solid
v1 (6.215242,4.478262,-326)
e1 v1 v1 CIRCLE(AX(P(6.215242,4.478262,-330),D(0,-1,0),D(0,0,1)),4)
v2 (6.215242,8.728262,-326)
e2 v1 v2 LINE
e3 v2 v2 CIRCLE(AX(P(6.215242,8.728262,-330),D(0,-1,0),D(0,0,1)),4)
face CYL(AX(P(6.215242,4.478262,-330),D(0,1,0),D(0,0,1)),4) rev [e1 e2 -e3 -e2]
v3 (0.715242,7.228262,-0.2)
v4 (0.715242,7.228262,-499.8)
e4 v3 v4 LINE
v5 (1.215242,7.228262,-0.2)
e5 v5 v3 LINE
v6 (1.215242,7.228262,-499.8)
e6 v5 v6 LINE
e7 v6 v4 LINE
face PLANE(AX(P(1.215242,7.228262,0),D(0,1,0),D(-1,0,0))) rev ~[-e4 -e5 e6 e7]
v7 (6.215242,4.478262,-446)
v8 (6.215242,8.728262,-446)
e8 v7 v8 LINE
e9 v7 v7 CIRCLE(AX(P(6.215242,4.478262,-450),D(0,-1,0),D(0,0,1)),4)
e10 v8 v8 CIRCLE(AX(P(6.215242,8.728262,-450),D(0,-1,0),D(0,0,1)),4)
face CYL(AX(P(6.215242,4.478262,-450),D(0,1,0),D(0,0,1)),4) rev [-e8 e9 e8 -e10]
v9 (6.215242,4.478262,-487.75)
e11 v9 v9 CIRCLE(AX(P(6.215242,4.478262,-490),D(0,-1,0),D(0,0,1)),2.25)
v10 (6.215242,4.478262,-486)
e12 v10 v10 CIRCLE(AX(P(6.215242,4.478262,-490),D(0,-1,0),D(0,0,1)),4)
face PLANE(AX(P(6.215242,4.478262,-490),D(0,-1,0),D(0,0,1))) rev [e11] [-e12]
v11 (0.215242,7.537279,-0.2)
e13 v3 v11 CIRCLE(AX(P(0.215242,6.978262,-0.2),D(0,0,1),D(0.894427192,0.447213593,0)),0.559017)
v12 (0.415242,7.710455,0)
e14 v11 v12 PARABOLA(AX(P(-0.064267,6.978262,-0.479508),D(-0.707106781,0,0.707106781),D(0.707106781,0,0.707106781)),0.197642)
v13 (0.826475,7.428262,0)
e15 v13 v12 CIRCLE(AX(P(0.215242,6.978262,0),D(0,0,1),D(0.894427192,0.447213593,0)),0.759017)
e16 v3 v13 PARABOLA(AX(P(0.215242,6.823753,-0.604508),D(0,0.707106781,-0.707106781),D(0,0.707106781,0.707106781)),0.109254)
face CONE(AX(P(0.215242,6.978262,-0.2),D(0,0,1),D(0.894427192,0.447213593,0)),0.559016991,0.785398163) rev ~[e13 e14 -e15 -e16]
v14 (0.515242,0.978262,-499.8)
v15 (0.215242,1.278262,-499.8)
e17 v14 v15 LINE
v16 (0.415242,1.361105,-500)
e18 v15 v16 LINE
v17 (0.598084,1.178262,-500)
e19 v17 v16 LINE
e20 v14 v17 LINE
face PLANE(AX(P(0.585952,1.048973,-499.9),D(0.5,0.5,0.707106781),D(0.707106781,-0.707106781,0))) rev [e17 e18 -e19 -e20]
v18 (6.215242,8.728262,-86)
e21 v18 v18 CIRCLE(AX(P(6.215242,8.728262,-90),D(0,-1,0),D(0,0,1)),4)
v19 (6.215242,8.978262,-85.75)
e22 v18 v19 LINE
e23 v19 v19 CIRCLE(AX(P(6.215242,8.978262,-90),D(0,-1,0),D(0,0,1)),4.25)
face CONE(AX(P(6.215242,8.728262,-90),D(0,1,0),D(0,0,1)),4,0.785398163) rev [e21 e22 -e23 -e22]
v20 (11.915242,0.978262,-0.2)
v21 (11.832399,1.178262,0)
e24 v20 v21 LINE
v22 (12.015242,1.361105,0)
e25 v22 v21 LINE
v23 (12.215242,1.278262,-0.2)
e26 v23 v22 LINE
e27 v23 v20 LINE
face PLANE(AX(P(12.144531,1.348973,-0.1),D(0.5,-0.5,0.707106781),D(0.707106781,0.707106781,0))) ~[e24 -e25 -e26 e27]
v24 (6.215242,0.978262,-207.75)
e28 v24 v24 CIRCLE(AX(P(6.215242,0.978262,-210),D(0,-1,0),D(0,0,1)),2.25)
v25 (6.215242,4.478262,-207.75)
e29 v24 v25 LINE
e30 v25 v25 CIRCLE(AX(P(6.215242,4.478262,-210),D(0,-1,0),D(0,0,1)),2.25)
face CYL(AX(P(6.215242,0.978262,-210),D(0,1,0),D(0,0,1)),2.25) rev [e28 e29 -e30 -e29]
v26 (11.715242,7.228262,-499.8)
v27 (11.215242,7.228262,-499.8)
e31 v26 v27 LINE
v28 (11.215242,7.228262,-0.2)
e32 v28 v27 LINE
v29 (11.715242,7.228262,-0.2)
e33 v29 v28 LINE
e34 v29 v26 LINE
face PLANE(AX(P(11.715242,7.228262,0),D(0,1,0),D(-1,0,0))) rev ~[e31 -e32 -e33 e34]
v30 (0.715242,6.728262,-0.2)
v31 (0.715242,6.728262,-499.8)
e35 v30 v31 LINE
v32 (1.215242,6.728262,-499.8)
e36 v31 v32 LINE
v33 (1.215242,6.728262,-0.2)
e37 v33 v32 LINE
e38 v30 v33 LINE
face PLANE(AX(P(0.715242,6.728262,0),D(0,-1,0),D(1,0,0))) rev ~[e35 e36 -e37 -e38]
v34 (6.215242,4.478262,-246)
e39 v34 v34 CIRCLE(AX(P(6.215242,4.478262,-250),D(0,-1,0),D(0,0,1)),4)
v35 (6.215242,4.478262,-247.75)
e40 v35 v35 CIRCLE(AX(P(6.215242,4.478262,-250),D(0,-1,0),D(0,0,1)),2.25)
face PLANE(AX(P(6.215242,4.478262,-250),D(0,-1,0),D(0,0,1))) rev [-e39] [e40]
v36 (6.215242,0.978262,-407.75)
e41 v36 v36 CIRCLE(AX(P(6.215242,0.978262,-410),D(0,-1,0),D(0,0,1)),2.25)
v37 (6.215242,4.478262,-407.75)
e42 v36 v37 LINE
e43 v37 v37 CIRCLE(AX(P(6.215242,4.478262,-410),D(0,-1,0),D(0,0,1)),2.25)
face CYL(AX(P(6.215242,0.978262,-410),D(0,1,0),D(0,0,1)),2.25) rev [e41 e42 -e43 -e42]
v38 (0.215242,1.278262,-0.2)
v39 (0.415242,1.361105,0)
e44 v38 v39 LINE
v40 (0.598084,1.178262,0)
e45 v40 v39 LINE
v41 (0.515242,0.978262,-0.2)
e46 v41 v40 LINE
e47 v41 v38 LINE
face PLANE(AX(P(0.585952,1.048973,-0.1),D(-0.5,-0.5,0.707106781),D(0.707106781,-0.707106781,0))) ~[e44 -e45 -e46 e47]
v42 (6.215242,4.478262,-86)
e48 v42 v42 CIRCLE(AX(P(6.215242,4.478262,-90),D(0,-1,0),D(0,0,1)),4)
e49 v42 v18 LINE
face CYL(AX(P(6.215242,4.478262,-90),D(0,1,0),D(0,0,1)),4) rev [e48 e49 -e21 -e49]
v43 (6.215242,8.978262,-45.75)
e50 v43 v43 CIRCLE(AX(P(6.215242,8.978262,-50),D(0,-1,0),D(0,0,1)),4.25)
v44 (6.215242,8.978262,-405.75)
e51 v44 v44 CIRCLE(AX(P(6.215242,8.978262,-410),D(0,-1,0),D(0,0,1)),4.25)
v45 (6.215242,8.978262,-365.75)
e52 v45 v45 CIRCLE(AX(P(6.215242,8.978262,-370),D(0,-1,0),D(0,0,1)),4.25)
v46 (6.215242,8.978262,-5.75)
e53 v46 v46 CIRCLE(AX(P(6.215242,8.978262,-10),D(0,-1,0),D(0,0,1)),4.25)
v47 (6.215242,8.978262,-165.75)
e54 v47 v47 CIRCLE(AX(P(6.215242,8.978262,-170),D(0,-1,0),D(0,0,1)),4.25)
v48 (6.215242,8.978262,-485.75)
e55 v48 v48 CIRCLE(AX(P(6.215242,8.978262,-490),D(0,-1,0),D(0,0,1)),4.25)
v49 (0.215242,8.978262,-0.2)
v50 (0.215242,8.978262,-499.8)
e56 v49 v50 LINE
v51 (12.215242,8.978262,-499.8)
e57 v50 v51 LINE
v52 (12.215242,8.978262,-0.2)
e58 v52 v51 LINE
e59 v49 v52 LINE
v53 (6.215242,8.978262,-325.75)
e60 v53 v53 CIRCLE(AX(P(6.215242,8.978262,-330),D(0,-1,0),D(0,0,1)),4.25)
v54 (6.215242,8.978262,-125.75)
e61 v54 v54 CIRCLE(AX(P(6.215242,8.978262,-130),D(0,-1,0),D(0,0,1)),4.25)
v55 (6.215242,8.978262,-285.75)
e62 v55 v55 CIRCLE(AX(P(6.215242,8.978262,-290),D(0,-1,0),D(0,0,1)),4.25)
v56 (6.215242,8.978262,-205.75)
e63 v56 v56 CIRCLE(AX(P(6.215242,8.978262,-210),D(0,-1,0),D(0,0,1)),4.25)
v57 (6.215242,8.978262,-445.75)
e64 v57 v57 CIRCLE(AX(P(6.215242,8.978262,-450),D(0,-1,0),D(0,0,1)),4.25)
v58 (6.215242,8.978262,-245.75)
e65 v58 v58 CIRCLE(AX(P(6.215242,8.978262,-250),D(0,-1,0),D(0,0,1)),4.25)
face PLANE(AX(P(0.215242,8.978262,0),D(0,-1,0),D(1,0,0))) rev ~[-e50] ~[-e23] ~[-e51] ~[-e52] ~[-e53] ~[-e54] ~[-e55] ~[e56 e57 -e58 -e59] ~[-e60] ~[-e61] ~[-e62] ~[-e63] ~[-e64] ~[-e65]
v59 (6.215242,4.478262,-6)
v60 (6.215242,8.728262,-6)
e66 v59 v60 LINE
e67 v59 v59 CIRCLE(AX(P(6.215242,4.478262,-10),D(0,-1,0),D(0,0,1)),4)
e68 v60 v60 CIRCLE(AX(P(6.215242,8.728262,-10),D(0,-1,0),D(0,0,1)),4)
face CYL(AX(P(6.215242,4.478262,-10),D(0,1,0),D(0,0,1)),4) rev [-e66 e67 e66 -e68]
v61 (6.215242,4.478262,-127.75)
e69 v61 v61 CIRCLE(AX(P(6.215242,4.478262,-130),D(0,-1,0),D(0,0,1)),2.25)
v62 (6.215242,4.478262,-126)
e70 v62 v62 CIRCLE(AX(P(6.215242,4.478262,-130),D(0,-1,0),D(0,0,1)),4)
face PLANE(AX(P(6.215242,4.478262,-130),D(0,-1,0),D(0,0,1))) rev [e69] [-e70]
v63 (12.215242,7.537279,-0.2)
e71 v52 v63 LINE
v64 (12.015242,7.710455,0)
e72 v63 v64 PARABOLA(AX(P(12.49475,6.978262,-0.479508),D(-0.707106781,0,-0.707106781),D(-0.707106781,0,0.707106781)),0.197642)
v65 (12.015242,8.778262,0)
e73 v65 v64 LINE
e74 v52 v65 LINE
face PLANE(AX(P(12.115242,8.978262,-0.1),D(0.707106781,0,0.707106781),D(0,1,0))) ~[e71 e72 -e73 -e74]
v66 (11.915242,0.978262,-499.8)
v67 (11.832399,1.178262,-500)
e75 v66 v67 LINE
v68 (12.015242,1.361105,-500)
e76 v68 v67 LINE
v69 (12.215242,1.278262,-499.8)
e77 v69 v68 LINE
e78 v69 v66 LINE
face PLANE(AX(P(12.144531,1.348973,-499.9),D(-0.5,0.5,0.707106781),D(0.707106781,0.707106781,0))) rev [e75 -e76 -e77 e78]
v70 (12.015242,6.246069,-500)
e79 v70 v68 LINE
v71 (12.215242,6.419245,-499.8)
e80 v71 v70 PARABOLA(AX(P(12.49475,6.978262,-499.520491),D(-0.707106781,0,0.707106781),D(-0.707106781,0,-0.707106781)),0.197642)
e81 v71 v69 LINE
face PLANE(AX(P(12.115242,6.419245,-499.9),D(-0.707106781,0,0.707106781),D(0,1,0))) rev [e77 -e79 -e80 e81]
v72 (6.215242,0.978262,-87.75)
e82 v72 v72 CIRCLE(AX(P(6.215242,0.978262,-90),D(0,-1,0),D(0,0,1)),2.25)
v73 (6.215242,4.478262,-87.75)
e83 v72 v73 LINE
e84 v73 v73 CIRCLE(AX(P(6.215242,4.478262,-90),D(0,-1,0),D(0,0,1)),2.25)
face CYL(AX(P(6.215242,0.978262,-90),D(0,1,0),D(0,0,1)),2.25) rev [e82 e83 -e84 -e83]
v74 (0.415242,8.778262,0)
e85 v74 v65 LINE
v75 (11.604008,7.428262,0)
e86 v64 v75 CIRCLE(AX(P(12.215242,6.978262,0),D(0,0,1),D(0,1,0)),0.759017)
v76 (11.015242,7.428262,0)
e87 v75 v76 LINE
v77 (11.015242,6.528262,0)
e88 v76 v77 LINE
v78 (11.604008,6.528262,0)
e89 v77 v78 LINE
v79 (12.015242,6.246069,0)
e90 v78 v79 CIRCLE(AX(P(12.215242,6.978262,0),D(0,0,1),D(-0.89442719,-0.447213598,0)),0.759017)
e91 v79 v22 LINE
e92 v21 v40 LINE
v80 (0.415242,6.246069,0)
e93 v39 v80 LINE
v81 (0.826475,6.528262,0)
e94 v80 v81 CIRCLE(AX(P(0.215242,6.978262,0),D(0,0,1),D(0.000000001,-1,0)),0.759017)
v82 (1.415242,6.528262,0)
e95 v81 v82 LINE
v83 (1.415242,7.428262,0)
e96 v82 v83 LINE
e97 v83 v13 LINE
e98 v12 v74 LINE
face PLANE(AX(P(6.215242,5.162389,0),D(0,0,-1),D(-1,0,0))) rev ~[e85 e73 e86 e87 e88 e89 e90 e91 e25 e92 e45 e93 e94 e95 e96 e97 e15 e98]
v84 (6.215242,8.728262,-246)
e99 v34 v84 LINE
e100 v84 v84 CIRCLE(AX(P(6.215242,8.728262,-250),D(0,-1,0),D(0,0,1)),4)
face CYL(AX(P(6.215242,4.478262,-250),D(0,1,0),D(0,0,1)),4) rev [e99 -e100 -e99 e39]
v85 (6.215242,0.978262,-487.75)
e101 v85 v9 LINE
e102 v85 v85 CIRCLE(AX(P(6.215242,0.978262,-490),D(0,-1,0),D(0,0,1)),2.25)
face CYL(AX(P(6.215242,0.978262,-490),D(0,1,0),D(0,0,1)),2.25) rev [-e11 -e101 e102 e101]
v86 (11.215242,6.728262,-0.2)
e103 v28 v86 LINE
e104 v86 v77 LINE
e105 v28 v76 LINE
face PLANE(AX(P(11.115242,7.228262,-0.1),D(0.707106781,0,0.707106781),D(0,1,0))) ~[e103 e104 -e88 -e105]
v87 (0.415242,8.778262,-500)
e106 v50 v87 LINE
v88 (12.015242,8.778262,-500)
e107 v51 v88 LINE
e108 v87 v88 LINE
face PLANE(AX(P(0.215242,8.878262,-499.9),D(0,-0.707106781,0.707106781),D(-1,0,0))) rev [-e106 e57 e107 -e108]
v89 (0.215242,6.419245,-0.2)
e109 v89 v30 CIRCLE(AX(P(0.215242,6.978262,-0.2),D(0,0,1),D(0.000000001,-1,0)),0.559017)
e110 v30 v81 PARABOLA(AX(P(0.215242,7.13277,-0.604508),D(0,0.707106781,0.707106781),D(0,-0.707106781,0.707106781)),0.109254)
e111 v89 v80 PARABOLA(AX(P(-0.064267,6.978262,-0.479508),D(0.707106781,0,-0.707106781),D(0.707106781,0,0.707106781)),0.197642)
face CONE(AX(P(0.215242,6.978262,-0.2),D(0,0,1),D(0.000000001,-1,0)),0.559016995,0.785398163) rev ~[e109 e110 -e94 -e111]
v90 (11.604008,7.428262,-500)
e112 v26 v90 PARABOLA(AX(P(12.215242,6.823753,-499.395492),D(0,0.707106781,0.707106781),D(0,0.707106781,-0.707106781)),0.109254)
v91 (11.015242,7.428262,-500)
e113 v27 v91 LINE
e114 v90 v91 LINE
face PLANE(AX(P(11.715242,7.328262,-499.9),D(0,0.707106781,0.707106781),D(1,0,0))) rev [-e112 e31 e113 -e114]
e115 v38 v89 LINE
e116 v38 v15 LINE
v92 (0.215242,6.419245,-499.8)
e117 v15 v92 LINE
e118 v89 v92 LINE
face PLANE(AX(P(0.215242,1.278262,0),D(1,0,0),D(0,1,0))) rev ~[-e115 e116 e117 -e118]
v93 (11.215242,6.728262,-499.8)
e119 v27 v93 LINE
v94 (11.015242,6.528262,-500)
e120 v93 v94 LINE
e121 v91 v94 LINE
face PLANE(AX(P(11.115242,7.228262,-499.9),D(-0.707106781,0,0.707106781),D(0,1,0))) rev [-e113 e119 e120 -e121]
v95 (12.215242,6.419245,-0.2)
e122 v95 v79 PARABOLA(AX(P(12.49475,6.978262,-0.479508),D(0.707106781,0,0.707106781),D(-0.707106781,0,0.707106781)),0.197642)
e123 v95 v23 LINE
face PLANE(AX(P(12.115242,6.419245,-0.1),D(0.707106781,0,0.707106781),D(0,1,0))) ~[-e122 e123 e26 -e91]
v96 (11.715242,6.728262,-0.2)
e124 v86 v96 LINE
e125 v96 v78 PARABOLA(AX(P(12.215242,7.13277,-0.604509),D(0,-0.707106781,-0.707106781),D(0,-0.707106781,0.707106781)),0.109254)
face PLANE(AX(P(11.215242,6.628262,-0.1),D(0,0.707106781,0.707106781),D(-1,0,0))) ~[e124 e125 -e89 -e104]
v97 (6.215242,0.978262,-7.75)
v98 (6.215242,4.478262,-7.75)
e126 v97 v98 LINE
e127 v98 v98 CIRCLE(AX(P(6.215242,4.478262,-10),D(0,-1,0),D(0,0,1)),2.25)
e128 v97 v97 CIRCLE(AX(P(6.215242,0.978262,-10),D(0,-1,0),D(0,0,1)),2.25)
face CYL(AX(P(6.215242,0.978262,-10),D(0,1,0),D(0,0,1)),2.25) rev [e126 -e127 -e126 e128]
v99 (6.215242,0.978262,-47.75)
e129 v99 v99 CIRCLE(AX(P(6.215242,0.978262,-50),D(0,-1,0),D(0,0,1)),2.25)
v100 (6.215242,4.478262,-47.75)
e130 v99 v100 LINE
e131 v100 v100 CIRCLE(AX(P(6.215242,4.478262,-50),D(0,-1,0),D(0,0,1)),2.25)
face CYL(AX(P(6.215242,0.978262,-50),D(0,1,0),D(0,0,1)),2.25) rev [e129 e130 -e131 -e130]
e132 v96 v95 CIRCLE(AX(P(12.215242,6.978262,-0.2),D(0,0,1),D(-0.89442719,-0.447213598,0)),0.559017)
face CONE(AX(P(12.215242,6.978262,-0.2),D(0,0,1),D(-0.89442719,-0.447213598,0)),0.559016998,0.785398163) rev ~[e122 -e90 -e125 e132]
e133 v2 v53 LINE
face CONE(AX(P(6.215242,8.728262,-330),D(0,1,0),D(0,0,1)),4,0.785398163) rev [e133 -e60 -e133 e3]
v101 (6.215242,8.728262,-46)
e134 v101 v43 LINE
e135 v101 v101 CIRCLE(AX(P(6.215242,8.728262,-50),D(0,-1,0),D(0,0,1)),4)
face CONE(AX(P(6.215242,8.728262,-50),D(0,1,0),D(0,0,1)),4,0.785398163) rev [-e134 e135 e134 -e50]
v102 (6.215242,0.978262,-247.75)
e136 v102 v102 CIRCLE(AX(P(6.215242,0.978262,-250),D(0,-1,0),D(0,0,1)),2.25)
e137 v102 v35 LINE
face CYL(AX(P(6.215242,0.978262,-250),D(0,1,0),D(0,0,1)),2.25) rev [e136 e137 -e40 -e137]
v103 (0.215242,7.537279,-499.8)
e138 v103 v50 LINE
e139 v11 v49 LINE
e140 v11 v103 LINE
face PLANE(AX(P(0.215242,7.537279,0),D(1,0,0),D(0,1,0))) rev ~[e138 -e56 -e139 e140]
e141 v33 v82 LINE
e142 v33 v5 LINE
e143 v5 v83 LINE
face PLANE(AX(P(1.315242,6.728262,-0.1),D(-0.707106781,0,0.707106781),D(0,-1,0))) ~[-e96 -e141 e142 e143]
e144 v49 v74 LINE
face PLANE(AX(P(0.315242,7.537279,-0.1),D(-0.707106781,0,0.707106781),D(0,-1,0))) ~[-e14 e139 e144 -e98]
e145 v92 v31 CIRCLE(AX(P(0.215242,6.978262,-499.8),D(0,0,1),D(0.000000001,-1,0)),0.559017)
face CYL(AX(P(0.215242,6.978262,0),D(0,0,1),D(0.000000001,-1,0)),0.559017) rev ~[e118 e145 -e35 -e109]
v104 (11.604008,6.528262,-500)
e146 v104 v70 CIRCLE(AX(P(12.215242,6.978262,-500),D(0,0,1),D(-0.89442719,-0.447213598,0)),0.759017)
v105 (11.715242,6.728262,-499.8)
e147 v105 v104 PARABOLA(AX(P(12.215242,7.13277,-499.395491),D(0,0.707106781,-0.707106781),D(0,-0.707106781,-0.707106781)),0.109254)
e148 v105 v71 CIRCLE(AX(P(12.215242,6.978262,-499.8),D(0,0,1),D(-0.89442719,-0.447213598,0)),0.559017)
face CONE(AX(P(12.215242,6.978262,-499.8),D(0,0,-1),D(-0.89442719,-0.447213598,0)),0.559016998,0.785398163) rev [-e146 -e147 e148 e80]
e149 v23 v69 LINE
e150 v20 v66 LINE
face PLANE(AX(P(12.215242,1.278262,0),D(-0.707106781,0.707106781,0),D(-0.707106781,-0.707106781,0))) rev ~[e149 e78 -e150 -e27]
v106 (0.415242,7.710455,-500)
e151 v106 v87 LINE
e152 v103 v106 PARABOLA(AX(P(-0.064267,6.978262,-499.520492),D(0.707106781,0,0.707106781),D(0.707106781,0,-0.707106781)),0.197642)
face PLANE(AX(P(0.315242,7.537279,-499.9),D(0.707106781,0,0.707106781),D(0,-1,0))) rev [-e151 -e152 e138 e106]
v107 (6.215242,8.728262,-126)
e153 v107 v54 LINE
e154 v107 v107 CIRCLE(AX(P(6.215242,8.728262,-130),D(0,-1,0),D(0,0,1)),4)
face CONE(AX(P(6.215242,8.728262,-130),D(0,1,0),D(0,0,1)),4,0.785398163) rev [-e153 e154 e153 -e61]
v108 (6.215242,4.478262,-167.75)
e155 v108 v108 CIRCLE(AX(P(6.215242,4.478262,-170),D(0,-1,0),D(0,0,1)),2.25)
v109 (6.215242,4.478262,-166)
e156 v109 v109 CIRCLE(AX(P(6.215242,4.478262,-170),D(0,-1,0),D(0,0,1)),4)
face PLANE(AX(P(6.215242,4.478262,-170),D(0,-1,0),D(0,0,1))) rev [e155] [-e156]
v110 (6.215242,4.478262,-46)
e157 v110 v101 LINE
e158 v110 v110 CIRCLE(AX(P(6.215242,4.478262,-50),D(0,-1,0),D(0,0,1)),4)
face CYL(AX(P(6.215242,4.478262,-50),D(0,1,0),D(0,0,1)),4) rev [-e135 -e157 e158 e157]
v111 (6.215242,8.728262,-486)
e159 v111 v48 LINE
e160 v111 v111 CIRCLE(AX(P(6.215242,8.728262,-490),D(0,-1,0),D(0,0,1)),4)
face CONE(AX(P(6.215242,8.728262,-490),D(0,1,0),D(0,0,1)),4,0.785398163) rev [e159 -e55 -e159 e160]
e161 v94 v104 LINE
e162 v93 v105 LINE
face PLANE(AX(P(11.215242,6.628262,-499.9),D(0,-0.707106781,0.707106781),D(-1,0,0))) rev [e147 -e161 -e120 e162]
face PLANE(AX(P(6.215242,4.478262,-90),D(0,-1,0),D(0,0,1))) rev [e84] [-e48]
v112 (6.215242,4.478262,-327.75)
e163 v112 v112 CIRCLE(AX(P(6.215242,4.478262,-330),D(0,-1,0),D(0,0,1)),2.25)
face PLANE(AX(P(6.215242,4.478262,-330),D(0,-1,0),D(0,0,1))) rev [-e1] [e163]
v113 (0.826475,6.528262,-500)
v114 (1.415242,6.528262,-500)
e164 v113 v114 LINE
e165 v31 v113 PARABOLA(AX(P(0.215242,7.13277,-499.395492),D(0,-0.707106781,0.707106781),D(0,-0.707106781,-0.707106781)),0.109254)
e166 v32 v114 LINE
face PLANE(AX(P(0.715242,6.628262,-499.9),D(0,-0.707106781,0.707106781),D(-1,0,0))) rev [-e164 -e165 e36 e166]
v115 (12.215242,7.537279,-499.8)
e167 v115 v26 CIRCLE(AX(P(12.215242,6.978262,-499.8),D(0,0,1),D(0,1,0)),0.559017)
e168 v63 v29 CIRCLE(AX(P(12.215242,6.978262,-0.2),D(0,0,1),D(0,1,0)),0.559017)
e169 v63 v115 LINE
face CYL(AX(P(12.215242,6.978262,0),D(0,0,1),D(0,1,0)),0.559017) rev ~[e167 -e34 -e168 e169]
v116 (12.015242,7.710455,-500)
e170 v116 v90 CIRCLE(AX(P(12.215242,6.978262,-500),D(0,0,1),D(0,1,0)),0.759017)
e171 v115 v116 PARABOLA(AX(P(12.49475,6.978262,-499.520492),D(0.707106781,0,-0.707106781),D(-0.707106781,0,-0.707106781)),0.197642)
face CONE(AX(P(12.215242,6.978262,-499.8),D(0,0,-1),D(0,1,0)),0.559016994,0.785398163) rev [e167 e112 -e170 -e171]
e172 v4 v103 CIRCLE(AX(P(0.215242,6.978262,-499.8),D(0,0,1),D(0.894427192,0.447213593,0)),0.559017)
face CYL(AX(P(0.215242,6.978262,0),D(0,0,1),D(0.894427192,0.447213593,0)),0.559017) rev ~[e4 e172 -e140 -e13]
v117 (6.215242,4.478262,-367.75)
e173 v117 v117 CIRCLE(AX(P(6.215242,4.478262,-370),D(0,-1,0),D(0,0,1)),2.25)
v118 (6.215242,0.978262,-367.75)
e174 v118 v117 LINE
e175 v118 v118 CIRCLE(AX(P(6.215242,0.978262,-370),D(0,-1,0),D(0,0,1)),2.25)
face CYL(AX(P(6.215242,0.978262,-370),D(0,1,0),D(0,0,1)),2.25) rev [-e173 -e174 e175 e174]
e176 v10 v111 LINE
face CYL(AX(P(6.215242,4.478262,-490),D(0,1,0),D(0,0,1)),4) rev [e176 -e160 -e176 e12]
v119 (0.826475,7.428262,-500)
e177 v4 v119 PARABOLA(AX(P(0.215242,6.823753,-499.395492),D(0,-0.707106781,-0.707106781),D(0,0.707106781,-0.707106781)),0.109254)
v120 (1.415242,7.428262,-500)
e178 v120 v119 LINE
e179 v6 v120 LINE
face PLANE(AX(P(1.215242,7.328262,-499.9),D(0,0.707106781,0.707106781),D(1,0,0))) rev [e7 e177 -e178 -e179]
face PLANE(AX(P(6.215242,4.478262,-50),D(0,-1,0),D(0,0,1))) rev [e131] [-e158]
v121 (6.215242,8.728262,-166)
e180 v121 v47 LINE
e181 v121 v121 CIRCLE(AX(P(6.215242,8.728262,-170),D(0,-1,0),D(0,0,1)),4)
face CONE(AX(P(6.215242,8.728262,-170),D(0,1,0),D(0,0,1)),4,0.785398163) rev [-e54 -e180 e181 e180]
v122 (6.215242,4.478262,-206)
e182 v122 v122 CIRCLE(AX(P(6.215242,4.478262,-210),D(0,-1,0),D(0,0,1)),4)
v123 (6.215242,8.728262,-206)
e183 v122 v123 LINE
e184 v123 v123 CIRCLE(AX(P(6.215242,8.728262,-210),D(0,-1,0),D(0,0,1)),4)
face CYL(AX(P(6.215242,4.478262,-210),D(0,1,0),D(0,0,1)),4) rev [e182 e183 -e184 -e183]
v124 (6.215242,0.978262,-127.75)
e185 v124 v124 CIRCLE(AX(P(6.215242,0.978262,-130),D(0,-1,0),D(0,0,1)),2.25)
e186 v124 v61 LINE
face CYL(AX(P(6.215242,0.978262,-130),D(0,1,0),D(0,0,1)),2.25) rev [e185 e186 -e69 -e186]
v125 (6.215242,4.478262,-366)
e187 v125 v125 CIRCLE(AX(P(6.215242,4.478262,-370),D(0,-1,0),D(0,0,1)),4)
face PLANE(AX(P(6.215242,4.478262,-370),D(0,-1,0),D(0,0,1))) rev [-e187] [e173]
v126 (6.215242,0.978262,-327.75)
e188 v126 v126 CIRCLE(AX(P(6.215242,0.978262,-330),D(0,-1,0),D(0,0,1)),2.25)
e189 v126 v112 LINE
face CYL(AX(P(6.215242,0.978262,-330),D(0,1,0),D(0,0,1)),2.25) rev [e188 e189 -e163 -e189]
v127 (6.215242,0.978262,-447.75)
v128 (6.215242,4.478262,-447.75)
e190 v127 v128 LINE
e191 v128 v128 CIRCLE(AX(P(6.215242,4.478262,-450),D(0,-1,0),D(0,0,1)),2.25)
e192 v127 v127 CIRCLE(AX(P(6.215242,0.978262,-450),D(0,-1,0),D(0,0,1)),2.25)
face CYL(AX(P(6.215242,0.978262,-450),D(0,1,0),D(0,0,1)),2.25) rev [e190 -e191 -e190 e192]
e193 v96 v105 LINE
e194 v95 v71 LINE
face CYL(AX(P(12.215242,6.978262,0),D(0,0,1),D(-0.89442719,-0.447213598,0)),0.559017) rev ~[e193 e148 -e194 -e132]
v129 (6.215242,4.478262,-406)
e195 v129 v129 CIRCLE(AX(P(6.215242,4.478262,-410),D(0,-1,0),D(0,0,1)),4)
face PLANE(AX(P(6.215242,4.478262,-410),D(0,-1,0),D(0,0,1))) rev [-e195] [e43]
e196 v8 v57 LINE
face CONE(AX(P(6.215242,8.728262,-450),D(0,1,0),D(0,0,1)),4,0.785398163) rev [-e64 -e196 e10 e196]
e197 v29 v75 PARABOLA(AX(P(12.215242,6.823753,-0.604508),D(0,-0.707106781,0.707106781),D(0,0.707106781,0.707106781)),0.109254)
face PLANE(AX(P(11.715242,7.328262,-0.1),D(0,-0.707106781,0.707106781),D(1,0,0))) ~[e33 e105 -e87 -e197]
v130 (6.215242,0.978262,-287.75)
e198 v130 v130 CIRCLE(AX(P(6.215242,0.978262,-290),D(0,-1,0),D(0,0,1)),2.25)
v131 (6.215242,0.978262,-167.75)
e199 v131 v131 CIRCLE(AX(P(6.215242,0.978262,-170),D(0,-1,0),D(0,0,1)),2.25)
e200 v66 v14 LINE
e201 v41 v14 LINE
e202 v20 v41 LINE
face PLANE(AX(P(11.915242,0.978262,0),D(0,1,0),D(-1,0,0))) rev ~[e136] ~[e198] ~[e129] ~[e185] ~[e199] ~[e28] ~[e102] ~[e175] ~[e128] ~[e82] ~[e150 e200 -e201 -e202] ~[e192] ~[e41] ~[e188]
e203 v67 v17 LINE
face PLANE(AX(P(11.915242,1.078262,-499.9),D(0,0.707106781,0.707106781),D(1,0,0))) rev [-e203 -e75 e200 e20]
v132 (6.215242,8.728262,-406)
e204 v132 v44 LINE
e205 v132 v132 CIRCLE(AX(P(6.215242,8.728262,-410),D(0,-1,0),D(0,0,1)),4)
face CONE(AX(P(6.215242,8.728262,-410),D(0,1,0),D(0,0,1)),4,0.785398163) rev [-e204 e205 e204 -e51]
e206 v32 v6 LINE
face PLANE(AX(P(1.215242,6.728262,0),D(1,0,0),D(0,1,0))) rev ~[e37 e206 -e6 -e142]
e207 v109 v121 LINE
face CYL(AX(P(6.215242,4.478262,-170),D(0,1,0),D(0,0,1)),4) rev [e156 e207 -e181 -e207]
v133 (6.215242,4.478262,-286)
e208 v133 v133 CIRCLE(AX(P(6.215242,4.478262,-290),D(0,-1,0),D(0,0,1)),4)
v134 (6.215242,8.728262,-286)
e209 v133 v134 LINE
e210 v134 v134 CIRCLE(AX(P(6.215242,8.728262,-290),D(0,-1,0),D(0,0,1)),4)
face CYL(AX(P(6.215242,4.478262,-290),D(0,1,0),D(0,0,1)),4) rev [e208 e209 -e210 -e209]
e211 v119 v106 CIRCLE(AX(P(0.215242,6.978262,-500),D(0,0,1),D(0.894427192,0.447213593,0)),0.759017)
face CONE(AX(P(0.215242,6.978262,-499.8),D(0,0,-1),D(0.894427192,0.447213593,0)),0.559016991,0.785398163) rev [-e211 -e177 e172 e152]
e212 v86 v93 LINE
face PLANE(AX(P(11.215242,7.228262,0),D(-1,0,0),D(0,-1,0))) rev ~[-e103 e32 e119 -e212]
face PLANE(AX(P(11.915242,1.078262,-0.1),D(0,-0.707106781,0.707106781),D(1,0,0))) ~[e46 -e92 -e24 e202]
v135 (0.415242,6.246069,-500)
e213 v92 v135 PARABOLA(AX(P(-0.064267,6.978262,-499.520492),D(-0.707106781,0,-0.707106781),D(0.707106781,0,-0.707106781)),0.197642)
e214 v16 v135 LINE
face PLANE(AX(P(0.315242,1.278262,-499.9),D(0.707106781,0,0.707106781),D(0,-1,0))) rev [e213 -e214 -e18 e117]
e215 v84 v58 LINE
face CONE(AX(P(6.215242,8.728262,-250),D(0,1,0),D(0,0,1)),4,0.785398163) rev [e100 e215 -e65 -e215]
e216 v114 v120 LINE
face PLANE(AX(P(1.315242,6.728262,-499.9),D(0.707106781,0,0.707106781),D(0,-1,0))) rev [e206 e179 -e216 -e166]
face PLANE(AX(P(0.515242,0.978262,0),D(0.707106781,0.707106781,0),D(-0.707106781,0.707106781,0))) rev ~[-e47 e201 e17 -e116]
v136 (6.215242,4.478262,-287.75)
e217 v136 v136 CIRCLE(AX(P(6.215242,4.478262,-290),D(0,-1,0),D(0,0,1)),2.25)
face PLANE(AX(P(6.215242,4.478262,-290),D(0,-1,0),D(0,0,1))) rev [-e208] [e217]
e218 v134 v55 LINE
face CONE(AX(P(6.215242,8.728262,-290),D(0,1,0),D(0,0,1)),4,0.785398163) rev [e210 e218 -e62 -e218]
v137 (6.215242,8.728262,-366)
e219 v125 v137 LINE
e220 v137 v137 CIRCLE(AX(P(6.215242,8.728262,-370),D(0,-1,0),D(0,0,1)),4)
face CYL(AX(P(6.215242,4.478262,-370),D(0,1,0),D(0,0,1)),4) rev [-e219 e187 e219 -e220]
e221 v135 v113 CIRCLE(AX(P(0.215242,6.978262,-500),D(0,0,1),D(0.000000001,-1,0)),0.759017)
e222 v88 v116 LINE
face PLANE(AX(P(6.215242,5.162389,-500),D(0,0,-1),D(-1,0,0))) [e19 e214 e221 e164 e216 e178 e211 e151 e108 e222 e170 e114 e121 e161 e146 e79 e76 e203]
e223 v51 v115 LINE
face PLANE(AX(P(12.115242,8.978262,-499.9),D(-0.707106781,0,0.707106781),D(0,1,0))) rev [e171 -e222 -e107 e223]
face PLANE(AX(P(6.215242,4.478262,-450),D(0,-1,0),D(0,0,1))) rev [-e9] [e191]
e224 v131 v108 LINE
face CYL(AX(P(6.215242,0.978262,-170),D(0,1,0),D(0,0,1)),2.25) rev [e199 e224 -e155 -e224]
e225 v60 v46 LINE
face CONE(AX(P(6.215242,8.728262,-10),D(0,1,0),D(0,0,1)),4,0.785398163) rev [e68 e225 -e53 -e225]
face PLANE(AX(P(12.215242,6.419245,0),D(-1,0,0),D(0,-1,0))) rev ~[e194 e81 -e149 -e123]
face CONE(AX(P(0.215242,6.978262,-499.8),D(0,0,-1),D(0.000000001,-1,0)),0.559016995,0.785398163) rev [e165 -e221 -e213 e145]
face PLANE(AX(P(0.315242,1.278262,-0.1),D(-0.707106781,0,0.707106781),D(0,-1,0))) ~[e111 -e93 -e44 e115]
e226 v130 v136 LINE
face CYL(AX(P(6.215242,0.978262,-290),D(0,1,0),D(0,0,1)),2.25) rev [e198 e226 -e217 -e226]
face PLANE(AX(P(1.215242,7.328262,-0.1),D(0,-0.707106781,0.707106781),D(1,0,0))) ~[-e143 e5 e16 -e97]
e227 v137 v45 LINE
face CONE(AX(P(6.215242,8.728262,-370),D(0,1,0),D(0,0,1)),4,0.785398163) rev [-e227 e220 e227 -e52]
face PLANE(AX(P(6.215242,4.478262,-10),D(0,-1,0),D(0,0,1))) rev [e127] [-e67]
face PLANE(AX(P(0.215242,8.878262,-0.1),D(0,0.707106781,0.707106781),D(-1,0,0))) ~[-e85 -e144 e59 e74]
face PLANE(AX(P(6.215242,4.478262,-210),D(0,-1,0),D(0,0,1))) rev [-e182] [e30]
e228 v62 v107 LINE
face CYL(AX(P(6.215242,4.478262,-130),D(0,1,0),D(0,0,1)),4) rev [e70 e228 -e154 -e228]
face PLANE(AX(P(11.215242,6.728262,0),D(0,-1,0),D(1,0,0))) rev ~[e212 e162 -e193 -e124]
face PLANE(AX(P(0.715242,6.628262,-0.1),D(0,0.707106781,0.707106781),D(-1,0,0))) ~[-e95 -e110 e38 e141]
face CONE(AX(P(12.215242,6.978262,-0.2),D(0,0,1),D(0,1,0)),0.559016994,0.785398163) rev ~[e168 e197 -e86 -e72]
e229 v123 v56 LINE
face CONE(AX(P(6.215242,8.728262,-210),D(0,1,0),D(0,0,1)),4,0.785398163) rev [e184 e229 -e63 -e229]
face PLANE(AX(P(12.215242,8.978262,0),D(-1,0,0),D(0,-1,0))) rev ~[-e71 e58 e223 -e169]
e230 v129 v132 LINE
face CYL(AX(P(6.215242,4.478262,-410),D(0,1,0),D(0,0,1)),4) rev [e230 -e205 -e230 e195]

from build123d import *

# Parameters (mm, degrees)
BOSS_EXTRUDE1_DEPTH = 500
CHAMFER1_SIZE       = 0.2
LPATTERN1_COUNT     = 13
LPATTERN1_PITCH     = 40


with BuildPart() as part:
    # Sketch1 → Boss-Extrude1 (new body)
    with BuildSketch(Plane.XY):
        with BuildLine():
            Line((12.21524152, 8.978261926), (12.21524152, 7.53727892))
            ThreePointArc((12.21524152, 7.53727892), (11.921348894, 7.453790184), (11.71524152, 7.228261926))
            Line((11.71524152, 7.228261926), (11.21524152, 7.228261926))
            Line((11.21524152, 7.228261926), (11.21524152, 6.728261926))
            Line((11.21524152, 6.728261926), (11.71524152, 6.728261926))
            ThreePointArc((11.71524152, 6.728261926), (11.921348894, 6.502733668), (12.21524152, 6.419244931))
            Line((12.21524152, 6.419244931), (12.21524152, 1.278261926))
            Line((12.21524152, 1.278261926), (11.91524152, 0.978261926))
            Line((11.91524152, 0.978261926), (0.51524152, 0.978261926))
            Line((0.51524152, 0.978261926), (0.21524152, 1.278261926))
            Line((0.21524152, 1.278261926), (0.21524152, 6.419244931))
            ThreePointArc((0.21524152, 6.419244931), (0.509134147, 6.502733668), (0.71524152, 6.728261926))
            Line((0.71524152, 6.728261926), (1.21524152, 6.728261926))
            Line((1.21524152, 6.728261926), (1.21524152, 7.228261926))
            Line((1.21524152, 7.228261926), (0.71524152, 7.228261926))
            ThreePointArc((0.71524152, 7.228261926), (0.509134147, 7.453790184), (0.21524152, 7.53727892))
            Line((0.21524152, 7.53727892), (0.21524152, 8.978261926))
            Line((0.21524152, 8.978261926), (12.21524152, 8.978261926))
        make_face()
    extrude(amount=-BOSS_EXTRUDE1_DEPTH)

    # Chamfer1
    chamfer1_edges = [part.edges().sort_by_distance(p)[0] for p in [
        (0.509134147, 7.453790184, -500),
        (0.96524152, 7.228261926, -500),
        (12.21524152, 8.257770423, 0),
        (1.21524152, 6.978261926, -500),
        (11.921348894, 7.453790184, 0),
        (11.46524152, 7.228261926, 0),
        (11.21524152, 6.978261926, 0),
        (11.46524152, 6.728261926, 0),
        (11.921348894, 6.502733668, 0),
        (12.21524152, 3.848753429, 0),
        (12.06524152, 1.128261926, 0),
        (6.21524152, 0.978261926, 0),
        (0.96524152, 6.728261926, -500),
        (0.36524152, 1.128261926, 0),
        (0.21524152, 3.848753429, 0),
        (0.509134147, 6.502733668, 0),
        (0.96524152, 6.728261926, 0),
        (1.21524152, 6.978261926, 0),
        (0.96524152, 7.228261926, 0),
        (0.509134147, 7.453790184, 0),
        (0.509134147, 6.502733668, -500),
        (0.21524152, 8.257770423, 0),
        (6.21524152, 8.978261926, 0),
        (0.21524152, 3.848753429, -500),
        (0.36524152, 1.128261926, -500),
        (6.21524152, 0.978261926, -500),
        (12.06524152, 1.128261926, -500),
        (12.21524152, 3.848753429, -500),
        (6.21524152, 8.978261926, -500),
        (11.921348894, 6.502733668, -500),
        (11.46524152, 6.728261926, -500),
        (11.21524152, 6.978261926, -500),
        (11.46524152, 7.228261926, -500),
        (11.921348894, 7.453790184, -500),
        (12.21524152, 8.257770423, -500),
        (0.21524152, 8.257770423, -500),
    ]]
    chamfer(chamfer1_edges, length=CHAMFER1_SIZE)

    # Sketch3 → CBORE for M4 Hex Head Machine Screw1 (revolve, cut)
    with BuildSketch(Plane(origin=(6.21524152, 8.978261926, -10), x_dir=(0, 0, 1), z_dir=(1, 0, 0))):
        Polygon((0, 0), (0, 8), (2.25, 8), (2.25, 4.5), (4, 4.5), (4, 0.25), (4.25, 0), align=None)
    cbore_for_m4_hex_head_machine_screw1 = revolve(axis=Axis((6.21524152, 15.328261926, -10), (0, -1, 0)), mode=Mode.SUBTRACT)

    # LPattern1: CBORE for M4 Hex Head Machine Screw1 ×13
    with Locations(*[(0, 0, -i * LPATTERN1_PITCH) for i in range(1, LPATTERN1_COUNT)]):
        add(cbore_for_m4_hex_head_machine_screw1, mode=Mode.SUBTRACT)


solid = part.part
